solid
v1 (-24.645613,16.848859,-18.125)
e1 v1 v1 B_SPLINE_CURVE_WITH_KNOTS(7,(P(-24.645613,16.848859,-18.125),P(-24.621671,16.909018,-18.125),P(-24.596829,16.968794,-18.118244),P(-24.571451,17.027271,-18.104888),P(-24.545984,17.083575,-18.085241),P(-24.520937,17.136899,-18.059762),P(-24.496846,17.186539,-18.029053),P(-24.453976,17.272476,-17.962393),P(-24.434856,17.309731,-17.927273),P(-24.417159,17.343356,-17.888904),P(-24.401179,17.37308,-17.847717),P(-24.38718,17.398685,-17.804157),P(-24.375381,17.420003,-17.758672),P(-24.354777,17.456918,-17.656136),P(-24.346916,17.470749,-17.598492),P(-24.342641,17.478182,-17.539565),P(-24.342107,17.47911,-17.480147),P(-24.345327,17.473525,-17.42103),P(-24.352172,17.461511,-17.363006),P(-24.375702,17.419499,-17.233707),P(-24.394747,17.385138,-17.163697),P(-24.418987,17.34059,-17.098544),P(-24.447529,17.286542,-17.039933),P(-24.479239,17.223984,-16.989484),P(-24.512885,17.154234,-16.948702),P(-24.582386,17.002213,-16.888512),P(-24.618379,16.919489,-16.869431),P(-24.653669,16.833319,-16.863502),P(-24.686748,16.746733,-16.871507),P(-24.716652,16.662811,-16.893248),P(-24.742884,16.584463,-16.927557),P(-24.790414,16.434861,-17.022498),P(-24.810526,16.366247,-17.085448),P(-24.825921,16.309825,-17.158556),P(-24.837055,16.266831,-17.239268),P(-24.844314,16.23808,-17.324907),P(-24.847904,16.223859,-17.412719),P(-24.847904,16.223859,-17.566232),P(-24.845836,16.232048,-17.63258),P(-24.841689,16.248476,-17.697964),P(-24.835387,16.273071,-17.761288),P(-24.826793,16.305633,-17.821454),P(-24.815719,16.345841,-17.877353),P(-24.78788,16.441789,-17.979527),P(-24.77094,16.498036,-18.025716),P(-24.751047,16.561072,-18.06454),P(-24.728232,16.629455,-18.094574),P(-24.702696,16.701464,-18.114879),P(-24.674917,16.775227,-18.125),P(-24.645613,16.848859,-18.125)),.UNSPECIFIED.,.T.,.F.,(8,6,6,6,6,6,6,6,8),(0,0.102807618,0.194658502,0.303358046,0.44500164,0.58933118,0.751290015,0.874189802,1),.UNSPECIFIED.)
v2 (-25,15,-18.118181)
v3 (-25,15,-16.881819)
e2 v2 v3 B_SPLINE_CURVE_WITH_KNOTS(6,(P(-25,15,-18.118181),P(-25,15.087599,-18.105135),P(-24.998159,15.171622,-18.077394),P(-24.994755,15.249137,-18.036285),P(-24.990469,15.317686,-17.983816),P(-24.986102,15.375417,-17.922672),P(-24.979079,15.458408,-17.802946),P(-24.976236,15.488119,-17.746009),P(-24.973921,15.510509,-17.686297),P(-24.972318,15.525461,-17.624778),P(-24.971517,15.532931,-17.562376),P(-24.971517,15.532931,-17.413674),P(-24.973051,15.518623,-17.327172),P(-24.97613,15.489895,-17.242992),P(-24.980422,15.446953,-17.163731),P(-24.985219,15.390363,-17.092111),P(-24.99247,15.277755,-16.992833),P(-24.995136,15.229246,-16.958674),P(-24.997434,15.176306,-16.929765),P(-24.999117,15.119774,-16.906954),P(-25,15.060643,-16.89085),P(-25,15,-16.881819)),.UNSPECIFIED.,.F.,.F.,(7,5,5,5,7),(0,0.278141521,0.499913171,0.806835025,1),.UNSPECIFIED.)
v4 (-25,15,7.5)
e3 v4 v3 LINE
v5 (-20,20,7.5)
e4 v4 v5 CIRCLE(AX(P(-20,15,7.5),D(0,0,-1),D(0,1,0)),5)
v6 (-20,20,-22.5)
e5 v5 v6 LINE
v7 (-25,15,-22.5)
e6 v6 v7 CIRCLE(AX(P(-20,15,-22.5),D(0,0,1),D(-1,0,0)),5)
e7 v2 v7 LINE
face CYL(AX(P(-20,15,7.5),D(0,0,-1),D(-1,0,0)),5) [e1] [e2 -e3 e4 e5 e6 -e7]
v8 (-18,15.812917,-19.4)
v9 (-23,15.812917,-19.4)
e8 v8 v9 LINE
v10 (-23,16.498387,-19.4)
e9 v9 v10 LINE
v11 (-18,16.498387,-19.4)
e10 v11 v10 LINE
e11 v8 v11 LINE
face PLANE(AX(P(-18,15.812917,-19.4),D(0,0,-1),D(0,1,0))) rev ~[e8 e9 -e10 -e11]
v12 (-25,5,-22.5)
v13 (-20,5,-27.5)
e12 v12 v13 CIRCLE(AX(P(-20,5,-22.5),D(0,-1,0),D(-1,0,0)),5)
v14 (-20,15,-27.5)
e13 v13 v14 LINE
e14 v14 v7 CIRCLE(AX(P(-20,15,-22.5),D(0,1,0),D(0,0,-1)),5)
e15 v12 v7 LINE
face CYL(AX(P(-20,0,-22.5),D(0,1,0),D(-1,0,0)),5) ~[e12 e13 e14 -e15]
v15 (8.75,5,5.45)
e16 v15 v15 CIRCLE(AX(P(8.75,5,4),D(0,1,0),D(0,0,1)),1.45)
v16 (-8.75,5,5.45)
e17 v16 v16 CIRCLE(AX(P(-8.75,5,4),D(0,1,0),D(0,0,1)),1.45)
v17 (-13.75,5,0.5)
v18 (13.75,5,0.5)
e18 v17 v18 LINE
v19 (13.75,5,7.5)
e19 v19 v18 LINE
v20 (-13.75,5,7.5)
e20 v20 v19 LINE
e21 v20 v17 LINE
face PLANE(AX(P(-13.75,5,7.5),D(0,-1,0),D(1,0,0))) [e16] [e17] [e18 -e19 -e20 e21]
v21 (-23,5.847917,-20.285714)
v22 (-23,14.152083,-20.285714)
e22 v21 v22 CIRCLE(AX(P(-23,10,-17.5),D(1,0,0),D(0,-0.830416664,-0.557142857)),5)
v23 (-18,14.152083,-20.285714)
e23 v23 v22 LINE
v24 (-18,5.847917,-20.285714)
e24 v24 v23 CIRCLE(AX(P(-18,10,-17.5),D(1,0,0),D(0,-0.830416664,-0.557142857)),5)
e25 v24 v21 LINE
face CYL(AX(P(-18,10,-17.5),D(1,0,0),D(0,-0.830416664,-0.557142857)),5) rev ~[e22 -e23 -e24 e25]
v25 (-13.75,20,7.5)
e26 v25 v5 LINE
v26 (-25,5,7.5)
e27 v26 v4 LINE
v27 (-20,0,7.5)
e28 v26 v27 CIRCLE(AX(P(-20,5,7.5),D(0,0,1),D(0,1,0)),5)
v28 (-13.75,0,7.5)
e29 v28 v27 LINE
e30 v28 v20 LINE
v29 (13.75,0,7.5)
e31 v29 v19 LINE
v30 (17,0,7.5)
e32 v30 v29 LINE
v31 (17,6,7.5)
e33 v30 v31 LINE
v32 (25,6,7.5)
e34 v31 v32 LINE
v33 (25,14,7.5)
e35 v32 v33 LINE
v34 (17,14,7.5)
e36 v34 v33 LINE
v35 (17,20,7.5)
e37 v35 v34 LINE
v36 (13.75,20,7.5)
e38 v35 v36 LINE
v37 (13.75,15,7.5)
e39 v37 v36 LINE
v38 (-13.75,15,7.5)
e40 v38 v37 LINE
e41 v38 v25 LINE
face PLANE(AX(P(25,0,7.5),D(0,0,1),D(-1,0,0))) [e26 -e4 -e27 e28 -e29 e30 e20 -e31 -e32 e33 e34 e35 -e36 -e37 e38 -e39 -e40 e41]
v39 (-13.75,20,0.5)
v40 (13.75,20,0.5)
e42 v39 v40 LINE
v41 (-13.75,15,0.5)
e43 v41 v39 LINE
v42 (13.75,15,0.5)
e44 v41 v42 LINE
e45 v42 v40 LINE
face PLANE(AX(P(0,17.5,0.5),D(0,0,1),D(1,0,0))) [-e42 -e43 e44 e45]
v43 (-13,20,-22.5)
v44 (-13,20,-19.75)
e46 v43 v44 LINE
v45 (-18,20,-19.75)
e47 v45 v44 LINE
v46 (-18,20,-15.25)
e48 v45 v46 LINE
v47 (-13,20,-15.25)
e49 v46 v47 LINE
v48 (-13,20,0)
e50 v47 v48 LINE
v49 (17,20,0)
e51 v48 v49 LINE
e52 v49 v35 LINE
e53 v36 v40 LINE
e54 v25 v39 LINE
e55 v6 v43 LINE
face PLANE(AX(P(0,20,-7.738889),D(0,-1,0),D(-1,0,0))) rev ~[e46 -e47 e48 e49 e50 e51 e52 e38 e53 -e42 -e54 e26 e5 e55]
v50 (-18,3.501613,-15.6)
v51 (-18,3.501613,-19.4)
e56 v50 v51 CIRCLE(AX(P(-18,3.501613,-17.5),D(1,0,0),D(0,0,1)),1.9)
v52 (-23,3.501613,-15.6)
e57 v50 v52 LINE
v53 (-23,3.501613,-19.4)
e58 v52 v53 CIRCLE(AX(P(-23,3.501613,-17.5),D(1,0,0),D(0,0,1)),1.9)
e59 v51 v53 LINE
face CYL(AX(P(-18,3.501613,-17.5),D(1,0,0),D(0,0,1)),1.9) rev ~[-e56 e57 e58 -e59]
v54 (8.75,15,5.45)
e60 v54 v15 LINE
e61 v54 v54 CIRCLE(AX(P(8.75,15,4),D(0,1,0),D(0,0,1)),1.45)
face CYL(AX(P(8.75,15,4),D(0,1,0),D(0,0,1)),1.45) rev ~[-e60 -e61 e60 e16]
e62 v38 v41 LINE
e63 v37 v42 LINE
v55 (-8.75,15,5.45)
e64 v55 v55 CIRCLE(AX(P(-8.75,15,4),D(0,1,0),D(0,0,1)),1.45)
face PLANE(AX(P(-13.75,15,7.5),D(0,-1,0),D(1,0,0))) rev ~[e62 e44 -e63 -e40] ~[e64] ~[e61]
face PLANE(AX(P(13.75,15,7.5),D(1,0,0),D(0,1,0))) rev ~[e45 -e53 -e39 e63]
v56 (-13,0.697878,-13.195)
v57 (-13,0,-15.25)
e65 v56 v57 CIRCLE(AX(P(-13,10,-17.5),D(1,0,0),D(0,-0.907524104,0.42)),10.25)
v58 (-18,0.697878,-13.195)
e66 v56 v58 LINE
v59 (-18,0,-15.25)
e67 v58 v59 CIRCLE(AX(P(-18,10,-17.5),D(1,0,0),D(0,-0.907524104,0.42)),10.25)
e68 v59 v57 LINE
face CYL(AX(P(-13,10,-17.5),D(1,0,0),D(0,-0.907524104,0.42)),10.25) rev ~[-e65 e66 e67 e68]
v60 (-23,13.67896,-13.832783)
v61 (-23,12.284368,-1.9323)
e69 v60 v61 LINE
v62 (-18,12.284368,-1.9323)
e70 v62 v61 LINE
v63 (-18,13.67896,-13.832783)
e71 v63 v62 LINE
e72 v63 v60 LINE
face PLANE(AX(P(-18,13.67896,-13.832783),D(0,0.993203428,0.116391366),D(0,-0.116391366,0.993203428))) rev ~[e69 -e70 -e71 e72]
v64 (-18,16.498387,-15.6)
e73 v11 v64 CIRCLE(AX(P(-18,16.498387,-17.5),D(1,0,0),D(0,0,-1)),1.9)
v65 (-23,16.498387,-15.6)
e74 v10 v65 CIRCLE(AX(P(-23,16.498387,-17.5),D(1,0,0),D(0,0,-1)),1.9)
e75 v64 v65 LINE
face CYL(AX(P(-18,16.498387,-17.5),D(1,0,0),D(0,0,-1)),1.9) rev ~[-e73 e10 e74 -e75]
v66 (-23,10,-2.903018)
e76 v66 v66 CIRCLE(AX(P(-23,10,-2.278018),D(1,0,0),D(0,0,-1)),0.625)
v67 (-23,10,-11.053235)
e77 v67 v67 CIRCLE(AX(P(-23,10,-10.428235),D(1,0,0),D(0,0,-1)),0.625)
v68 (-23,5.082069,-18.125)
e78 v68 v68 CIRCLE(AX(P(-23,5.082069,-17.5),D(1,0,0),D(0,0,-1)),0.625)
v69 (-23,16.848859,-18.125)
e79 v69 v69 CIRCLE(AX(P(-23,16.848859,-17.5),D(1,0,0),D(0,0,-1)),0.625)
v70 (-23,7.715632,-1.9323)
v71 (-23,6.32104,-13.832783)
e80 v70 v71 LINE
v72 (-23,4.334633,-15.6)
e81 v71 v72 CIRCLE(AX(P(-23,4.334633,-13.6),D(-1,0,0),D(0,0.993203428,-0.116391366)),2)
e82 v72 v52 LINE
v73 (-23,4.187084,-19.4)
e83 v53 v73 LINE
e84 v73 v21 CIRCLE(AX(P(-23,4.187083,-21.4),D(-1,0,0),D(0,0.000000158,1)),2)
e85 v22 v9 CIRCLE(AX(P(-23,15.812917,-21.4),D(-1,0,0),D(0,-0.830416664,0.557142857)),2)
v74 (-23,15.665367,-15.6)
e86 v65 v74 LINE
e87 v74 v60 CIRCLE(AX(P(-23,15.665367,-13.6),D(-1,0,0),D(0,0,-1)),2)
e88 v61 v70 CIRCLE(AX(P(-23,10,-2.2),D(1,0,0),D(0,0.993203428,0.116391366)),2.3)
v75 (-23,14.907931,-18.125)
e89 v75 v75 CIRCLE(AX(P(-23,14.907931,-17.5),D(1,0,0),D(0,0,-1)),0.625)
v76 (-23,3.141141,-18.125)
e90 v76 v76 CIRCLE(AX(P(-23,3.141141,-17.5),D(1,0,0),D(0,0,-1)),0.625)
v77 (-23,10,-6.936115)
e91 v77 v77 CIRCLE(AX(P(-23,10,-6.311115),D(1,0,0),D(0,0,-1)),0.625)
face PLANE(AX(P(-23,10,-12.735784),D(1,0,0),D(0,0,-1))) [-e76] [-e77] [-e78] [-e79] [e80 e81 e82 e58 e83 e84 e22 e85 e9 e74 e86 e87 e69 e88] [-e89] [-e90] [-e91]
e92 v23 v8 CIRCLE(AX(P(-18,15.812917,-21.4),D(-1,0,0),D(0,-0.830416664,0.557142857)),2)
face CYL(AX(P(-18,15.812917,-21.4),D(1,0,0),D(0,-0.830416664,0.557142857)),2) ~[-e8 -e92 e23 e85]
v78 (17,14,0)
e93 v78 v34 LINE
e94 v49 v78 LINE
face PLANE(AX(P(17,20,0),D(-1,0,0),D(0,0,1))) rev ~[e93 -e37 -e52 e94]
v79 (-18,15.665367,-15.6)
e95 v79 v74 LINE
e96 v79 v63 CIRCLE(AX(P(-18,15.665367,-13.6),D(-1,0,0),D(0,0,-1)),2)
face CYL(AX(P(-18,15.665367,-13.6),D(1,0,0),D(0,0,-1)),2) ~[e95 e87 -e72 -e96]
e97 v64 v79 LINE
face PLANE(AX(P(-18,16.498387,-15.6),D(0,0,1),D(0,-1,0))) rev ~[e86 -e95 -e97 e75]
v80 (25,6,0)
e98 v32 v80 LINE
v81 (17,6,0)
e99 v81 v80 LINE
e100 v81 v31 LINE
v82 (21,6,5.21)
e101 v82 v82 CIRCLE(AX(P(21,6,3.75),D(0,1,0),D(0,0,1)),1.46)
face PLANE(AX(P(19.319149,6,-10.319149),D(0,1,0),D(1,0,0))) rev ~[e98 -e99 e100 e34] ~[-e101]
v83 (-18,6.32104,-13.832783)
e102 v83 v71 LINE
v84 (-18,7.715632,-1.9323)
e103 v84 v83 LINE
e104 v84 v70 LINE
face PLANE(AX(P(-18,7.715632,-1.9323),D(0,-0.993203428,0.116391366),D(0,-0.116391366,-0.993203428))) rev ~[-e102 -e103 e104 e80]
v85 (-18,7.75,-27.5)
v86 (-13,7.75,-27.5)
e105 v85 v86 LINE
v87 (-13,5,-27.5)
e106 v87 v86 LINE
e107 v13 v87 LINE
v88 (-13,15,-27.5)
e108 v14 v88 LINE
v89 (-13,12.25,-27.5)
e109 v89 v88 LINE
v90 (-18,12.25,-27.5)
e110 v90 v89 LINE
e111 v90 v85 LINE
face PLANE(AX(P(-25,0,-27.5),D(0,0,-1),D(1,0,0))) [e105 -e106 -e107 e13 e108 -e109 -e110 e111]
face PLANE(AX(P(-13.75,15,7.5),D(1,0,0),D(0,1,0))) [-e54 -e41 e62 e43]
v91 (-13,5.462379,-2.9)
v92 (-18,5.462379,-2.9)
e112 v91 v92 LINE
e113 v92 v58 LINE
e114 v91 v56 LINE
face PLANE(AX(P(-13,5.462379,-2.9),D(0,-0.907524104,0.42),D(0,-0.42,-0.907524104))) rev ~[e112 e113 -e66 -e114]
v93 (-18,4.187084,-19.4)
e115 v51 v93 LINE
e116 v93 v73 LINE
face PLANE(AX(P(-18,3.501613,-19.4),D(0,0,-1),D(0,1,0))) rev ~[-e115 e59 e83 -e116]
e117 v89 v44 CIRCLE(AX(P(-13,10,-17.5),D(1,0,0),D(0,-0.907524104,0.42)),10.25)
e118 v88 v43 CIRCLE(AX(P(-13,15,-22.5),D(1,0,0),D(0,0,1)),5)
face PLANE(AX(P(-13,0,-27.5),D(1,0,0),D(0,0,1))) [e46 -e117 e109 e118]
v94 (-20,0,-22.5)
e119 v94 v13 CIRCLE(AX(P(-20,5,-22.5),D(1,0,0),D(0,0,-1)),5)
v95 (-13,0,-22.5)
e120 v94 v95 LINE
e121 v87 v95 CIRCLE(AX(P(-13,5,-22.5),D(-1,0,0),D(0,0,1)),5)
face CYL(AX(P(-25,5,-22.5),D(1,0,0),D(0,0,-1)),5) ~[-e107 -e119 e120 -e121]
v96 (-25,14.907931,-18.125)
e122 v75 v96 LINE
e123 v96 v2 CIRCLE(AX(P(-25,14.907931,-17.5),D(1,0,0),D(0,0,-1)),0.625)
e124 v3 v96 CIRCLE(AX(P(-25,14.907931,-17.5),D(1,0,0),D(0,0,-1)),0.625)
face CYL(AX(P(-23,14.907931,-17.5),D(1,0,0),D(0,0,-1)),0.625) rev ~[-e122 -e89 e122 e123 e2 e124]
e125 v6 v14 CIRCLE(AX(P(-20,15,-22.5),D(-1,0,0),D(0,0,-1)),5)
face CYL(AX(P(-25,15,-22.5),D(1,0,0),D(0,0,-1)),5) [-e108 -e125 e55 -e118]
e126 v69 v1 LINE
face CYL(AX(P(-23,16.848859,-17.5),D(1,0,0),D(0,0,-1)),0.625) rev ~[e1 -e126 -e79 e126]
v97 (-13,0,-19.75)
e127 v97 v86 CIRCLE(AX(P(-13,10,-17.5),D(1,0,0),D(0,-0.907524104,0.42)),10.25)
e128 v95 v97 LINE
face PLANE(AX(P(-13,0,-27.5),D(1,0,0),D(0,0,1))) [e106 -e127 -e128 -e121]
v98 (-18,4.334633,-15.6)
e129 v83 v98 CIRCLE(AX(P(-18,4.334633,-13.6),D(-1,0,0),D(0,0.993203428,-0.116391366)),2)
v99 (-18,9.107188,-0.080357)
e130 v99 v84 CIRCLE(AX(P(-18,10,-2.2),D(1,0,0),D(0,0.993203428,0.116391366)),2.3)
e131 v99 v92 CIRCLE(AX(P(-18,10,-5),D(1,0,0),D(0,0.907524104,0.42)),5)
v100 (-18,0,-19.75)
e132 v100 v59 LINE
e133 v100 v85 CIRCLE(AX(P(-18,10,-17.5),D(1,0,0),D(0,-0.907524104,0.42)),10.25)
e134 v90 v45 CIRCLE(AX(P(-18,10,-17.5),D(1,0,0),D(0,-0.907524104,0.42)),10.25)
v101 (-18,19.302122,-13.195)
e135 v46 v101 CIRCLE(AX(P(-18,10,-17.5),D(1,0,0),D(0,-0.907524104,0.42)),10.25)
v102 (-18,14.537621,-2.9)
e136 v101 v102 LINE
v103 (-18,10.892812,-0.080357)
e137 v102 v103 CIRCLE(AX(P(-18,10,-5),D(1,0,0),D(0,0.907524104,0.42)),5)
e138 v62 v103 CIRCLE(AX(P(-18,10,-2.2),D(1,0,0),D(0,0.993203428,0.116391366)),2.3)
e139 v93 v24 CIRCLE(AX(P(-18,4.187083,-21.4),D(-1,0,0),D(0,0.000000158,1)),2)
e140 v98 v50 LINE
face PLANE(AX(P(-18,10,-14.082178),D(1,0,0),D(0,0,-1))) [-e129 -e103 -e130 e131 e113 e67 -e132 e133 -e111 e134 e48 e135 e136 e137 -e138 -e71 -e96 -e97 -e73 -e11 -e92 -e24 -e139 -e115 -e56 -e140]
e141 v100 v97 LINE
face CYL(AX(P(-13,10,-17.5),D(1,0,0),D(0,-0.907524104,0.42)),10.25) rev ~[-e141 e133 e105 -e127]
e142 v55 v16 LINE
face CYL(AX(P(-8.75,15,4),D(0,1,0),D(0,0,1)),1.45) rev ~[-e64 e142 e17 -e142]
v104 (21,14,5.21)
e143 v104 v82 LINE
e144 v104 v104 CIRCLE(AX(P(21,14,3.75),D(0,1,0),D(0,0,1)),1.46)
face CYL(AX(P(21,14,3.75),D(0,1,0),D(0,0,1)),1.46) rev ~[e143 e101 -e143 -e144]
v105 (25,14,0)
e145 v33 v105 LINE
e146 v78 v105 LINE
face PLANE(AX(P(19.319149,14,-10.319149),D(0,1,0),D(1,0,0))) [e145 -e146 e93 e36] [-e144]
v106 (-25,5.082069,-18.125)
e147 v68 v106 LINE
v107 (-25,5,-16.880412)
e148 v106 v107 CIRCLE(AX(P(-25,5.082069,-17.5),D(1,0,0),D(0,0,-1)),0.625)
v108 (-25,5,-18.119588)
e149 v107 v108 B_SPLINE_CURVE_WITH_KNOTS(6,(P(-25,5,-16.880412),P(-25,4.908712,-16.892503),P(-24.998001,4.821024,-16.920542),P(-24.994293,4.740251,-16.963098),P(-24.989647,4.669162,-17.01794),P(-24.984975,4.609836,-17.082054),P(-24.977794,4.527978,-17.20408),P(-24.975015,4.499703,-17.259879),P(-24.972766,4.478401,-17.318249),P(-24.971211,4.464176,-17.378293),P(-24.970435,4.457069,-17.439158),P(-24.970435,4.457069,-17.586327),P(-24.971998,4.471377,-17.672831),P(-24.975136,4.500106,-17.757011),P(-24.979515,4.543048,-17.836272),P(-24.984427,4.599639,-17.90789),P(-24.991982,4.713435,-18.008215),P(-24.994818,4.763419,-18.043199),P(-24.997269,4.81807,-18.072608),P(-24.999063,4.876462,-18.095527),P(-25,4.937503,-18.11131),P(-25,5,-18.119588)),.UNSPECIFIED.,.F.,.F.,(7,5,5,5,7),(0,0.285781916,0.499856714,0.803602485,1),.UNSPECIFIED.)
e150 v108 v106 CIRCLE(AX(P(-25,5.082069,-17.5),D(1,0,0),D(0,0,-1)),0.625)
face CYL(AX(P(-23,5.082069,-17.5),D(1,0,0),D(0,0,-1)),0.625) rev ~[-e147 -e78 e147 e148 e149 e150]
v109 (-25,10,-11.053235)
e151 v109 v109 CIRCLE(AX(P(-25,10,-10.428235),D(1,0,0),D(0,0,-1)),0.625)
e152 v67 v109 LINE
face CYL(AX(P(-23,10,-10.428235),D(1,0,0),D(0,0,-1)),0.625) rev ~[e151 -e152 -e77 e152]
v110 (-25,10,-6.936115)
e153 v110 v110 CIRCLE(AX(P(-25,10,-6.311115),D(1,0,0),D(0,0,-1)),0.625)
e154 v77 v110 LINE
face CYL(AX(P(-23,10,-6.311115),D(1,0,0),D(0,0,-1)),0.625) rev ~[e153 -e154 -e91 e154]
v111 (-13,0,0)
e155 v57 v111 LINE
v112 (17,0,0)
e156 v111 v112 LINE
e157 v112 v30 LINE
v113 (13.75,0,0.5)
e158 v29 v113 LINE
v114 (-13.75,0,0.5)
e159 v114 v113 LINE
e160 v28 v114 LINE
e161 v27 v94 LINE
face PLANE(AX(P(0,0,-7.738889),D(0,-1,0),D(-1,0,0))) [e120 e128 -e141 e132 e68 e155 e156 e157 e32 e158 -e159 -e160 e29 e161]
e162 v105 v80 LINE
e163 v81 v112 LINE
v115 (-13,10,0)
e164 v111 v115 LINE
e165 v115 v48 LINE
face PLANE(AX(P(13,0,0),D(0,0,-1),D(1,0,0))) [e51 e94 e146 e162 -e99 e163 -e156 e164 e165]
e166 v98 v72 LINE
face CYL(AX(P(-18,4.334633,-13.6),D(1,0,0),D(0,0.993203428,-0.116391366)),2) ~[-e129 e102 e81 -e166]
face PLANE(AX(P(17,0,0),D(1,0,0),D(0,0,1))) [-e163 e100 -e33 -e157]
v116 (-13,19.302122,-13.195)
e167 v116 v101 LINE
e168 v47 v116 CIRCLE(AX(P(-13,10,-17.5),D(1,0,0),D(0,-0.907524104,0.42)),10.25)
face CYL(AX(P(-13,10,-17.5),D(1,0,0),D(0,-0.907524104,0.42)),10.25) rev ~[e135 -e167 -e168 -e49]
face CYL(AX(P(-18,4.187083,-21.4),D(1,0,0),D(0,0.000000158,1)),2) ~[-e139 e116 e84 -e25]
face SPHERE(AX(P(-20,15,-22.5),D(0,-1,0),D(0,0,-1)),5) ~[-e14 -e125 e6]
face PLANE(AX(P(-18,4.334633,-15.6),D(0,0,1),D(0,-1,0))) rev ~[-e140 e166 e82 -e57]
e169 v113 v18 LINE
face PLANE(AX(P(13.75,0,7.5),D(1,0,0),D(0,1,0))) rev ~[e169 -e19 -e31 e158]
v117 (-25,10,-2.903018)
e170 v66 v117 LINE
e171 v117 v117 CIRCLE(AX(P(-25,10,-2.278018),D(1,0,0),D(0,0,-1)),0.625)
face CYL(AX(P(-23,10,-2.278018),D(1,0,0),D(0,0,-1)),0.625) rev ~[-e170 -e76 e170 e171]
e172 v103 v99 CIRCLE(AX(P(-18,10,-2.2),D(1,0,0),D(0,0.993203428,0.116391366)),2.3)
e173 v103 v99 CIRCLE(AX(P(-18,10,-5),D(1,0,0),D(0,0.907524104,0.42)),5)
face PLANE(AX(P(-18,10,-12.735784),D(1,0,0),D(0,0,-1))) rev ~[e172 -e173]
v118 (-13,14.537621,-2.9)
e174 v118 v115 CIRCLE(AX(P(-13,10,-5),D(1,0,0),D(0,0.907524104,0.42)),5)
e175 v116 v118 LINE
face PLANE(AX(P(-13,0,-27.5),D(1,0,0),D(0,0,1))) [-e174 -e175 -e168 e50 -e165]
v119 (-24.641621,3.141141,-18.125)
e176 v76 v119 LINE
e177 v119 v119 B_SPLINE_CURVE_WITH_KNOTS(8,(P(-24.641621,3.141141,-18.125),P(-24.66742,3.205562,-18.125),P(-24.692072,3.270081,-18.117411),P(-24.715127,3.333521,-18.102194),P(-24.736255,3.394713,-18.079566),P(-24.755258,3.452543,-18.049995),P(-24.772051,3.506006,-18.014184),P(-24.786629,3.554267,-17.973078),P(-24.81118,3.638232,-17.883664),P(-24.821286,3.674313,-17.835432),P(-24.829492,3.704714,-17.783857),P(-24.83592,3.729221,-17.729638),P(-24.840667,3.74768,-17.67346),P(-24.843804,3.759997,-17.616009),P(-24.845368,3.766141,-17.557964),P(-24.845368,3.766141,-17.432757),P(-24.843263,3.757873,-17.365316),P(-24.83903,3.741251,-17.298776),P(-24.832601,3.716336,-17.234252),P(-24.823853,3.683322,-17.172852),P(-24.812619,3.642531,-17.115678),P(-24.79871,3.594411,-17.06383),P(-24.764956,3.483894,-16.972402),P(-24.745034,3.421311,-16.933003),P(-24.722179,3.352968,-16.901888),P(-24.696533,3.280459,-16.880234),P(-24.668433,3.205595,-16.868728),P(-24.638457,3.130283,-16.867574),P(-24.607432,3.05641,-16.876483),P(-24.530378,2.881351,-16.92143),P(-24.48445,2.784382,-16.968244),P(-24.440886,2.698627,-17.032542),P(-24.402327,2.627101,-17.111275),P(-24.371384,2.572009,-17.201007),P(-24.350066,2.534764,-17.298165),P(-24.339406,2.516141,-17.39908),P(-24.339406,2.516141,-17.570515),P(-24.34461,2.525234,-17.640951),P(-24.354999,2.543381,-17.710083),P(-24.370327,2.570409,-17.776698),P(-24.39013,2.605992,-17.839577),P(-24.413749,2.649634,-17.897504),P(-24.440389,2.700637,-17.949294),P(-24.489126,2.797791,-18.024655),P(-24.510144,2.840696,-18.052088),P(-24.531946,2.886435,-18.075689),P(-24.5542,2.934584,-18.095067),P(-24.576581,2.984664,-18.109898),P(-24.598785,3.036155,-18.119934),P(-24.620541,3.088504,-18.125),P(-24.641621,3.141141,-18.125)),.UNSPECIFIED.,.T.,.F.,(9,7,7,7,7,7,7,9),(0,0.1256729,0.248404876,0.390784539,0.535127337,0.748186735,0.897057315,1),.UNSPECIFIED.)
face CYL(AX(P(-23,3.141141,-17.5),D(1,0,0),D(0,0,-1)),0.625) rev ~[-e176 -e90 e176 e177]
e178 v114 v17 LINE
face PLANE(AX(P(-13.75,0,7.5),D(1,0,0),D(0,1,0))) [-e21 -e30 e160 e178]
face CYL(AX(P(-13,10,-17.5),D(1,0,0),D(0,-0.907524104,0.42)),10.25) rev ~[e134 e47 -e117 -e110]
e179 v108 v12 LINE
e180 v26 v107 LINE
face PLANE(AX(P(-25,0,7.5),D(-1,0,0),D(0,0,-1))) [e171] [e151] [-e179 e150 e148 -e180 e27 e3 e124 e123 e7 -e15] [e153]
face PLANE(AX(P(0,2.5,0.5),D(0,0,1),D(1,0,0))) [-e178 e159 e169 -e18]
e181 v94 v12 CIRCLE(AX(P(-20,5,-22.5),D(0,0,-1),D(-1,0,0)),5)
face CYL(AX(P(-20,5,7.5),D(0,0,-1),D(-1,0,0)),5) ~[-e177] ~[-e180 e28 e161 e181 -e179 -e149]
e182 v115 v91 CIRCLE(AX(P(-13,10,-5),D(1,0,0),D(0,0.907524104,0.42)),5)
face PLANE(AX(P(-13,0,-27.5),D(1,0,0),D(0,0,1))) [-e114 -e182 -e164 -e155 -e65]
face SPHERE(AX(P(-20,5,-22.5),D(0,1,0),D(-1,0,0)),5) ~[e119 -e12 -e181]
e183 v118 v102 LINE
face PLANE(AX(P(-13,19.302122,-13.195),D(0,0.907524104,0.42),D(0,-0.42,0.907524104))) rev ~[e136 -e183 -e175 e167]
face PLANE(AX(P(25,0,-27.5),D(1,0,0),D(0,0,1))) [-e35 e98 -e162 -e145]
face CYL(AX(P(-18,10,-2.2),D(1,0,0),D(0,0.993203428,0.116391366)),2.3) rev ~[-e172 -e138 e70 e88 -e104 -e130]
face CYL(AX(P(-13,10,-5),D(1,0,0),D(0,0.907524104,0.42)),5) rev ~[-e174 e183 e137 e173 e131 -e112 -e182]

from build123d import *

# Parameters (mm, degrees)
EXTRUDE_1_DEPTH      = 20
FILLET_1_R           = 5
SKETCH_2_R           = 8
CUT_EXTRUDE_1_DEPTH  = 5
SKETCH_3_R           = 6
CUT_EXTRUDE_2_DEPTH  = 1
CUT_EXTRUDE_3_DEPTH  = 5
CUT_EXTRUDE_4_DEPTH  = 5
SKETCH_6_R           = 0.625
CUT_EXTRUDE_5_DEPTH  = 4
SKETCH_7_W           = 27.5
SKETCH_7_H           = 5
CUT_EXTRUDE_6_DEPTH  = 7
SKETCH_8_R           = 1.45
CUT_EXTRUDE_7_DEPTH  = 12
CUT_EXTRUDE_8_DEPTH  = 6
CUT_EXTRUDE_START    = -20
CUT_EXTRUDE_9_DEPTH  = 6
SKETCH_13_W          = 12
SKETCH_13_H          = 27.5
CUT_EXTRUDE_10_DEPTH = 11
SKETCH_14_R          = 1.46
CUT_EXTRUDE_11_DEPTH = 11


with BuildPart() as part:
    # Эскиз1 → Бобышка-Вытянуть1 (new body)
    with BuildSketch(Plane(origin=(0, 0, 0), x_dir=(1, 0, 0), z_dir=(0, 1, 0))):
        Polygon((-13, 27.5), (-13, 0), (13, 0), (13, 27.5), (25, 27.5), (25, -7.5), (-25, -7.5), (-25, 27.5), align=None)
    extrude(amount=EXTRUDE_1_DEPTH)

    # Скругление1
    fillet_1_edges = [part.edges().sort_by_distance(p)[0] for p in [
        (19, 0, -27.5),
        (25, 10, -27.5),
        (-25, 10, -27.5),
        (-19, 20, -27.5),
        (-25, 20, -10),
        (25, 20, -10),
        (19, 20, -27.5),
        (25, 0, -10),
        (-25, 0, -10),
        (-19, 0, -27.5),
    ]]
    fillet(fillet_1_edges, radius=FILLET_1_R)

    # Эскиз2 → Вырез-Вытянуть1 (cut)
    with BuildSketch(Plane.ZY.offset(-13)):
        with Locations((-17.5, 10)):
            Circle(SKETCH_2_R)
    extrude(amount=-CUT_EXTRUDE_1_DEPTH, mode=Mode.SUBTRACT)

    # Эскиз3 → Вырез-Вытянуть2 (cut)
    with BuildSketch(Plane.ZY.offset(-18)):
        with Locations((-17.5, 10)):
            Circle(SKETCH_3_R)
    extrude(amount=-CUT_EXTRUDE_2_DEPTH, mode=Mode.SUBTRACT)

    # Эскиз4 → Вырез-Вытянуть3 (cut)
    with BuildSketch(Plane(origin=(-13, 0, 0), x_dir=(0, 0, -1), z_dir=(1, 0, 0))):
        with BuildLine():
            Line((13.195, 19.30212207), (2.9, 14.537620522))
            ThreePointArc((2.9, 14.537620522), (0, 10), (2.9, 5.462379478))
            Line((2.9, 5.462379478), (13.195, 0.69787793))
            ThreePointArc((13.195, 0.69787793), (27.75, 10), (13.195, 19.30212207))
        make_face()
    extrude(amount=-CUT_EXTRUDE_3_DEPTH, mode=Mode.SUBTRACT)

    # Эскиз5 → Вырез-Вытянуть4 (cut)
    with BuildSketch(Plane(origin=(-18, 0, 0), x_dir=(0, 0, -1), z_dir=(1, 0, 0))):
        with BuildLine():
            Line((19.4, 15.812916652), (19.4, 16.49838717))
            ThreePointArc((19.4, 16.49838717), (17.499999842, 18.39838717), (15.6, 16.498386854))
            Line((15.6, 16.498386854), (15.6, 15.665366642))
            ThreePointArc((15.6, 15.665366642), (15.094249889, 14.335999398), (13.832782732, 13.678959785))
            Line((13.832782732, 13.678959785), (1.932299859, 12.284367885))
            ThreePointArc((1.932299859, 12.284367885), (-0.1, 10), (1.932299859, 7.715632115))
            Line((1.932299859, 7.715632115), (13.832782732, 6.321040215))
            ThreePointArc((13.832782732, 6.321040215), (15.094249889, 5.664000602), (15.6, 4.334633358))
            Line((15.6, 4.334633358), (15.6, 3.501613146))
            ThreePointArc((15.6, 3.501613146), (17.5, 1.601613146), (19.4, 3.501613146))
            Line((19.4, 3.501613146), (19.4, 4.187083665))
            ThreePointArc((19.4, 4.187083665), (19.635266181, 5.128207436), (20.285714286, 5.847916677))
            ThreePointArc((20.285714286, 5.847916677), (22.5, 10), (20.285714286, 14.152083323))
            ThreePointArc((20.285714286, 14.152083323), (19.635266107, 14.871792704), (19.4, 15.812916652))
        make_face()
    extrude(amount=-CUT_EXTRUDE_4_DEPTH, mode=Mode.SUBTRACT)

    # Эскиз6 → Вырез-Вытянуть5 (cut)
    with BuildSketch(Plane(origin=(-23, 0, 0), x_dir=(0, 0, -1), z_dir=(1, 0, 0))):
        with Locations((2.278018202, 10)):
            Circle(SKETCH_6_R)
        with Locations((6.311115384, 10)):
            Circle(SKETCH_6_R)
        with Locations((10.428235425, 10)):
            Circle(SKETCH_6_R)
        with Locations((17.5, 14.907931149)):
            Circle(SKETCH_6_R)
        with Locations((17.5, 16.848859168)):
            Circle(SKETCH_6_R)
        with Locations((17.5, 5.082068851)):
            Circle(SKETCH_6_R)
        with Locations((17.5, 3.141140832)):
            Circle(SKETCH_6_R)
    extrude(amount=-CUT_EXTRUDE_5_DEPTH, mode=Mode.SUBTRACT)

    # Эскиз7 → Вырез-Вытянуть6 (cut)
    with BuildSketch(Plane.XY.offset(7.5)):
        with Locations((0, 17.5)):
            Rectangle(SKETCH_7_W, SKETCH_7_H)
        with Locations((0, 2.5)):
            Rectangle(SKETCH_7_W, SKETCH_7_H)
    extrude(amount=-CUT_EXTRUDE_6_DEPTH, mode=Mode.SUBTRACT)

    # Эскиз8 → Вырез-Вытянуть7 (cut)
    with BuildSketch(Plane(origin=(0, 15, 0), x_dir=(1, 0, 0), z_dir=(0, 1, 0))):
        with Locations(Location((-8.75, -4, 0), (0, 0, 270))):
            Circle(SKETCH_8_R)
        with Locations(Location((8.75, -4, 0), (0, 0, 270))):
            Circle(SKETCH_8_R)
    extrude(amount=-CUT_EXTRUDE_7_DEPTH, mode=Mode.SUBTRACT)

    # Эскиз11 → Вырез-Вытянуть8 (cut)
    with BuildSketch(Plane(origin=(0, 20, 0), x_dir=(1, 0, 0), z_dir=(0, 1, 0))):
        Polygon((13, 27.5), (13, 0), (17, 0), (17, -7.5), (25, -7.5), (25, 27.5), align=None)
    extrude(amount=-CUT_EXTRUDE_8_DEPTH, mode=Mode.SUBTRACT)

    # Эскиз11<2> → Вырез-Вытянуть9 (cut)
    with BuildSketch(Plane(origin=(0, 20, 0), x_dir=(1, 0, 0), z_dir=(0, 1, 0)).offset(CUT_EXTRUDE_START)):
        Polygon((13, 27.5), (13, 0), (17, 0), (17, -7.5), (25, -7.5), (25, 27.5), align=None)
    extrude(amount=CUT_EXTRUDE_9_DEPTH, mode=Mode.SUBTRACT)

    # Эскиз13 → Вырез-Вытянуть10 (cut)
    with BuildSketch(Plane(origin=(0, 14, 0), x_dir=(1, 0, 0), z_dir=(0, 1, 0))):
        with Locations((19, 13.75)):
            Rectangle(SKETCH_13_W, SKETCH_13_H)
    extrude(amount=-CUT_EXTRUDE_10_DEPTH, mode=Mode.SUBTRACT)

    # Эскиз14 → Вырез-Вытянуть11 (cut)
    with BuildSketch(Plane(origin=(0, 14, 0), x_dir=(1, 0, 0), z_dir=(0, 1, 0))):
        with Locations(Location((21, -3.75, 0), (0, 0, 270))):
            Circle(SKETCH_14_R)
    extrude(amount=-CUT_EXTRUDE_11_DEPTH, mode=Mode.SUBTRACT)


solid = part.part
